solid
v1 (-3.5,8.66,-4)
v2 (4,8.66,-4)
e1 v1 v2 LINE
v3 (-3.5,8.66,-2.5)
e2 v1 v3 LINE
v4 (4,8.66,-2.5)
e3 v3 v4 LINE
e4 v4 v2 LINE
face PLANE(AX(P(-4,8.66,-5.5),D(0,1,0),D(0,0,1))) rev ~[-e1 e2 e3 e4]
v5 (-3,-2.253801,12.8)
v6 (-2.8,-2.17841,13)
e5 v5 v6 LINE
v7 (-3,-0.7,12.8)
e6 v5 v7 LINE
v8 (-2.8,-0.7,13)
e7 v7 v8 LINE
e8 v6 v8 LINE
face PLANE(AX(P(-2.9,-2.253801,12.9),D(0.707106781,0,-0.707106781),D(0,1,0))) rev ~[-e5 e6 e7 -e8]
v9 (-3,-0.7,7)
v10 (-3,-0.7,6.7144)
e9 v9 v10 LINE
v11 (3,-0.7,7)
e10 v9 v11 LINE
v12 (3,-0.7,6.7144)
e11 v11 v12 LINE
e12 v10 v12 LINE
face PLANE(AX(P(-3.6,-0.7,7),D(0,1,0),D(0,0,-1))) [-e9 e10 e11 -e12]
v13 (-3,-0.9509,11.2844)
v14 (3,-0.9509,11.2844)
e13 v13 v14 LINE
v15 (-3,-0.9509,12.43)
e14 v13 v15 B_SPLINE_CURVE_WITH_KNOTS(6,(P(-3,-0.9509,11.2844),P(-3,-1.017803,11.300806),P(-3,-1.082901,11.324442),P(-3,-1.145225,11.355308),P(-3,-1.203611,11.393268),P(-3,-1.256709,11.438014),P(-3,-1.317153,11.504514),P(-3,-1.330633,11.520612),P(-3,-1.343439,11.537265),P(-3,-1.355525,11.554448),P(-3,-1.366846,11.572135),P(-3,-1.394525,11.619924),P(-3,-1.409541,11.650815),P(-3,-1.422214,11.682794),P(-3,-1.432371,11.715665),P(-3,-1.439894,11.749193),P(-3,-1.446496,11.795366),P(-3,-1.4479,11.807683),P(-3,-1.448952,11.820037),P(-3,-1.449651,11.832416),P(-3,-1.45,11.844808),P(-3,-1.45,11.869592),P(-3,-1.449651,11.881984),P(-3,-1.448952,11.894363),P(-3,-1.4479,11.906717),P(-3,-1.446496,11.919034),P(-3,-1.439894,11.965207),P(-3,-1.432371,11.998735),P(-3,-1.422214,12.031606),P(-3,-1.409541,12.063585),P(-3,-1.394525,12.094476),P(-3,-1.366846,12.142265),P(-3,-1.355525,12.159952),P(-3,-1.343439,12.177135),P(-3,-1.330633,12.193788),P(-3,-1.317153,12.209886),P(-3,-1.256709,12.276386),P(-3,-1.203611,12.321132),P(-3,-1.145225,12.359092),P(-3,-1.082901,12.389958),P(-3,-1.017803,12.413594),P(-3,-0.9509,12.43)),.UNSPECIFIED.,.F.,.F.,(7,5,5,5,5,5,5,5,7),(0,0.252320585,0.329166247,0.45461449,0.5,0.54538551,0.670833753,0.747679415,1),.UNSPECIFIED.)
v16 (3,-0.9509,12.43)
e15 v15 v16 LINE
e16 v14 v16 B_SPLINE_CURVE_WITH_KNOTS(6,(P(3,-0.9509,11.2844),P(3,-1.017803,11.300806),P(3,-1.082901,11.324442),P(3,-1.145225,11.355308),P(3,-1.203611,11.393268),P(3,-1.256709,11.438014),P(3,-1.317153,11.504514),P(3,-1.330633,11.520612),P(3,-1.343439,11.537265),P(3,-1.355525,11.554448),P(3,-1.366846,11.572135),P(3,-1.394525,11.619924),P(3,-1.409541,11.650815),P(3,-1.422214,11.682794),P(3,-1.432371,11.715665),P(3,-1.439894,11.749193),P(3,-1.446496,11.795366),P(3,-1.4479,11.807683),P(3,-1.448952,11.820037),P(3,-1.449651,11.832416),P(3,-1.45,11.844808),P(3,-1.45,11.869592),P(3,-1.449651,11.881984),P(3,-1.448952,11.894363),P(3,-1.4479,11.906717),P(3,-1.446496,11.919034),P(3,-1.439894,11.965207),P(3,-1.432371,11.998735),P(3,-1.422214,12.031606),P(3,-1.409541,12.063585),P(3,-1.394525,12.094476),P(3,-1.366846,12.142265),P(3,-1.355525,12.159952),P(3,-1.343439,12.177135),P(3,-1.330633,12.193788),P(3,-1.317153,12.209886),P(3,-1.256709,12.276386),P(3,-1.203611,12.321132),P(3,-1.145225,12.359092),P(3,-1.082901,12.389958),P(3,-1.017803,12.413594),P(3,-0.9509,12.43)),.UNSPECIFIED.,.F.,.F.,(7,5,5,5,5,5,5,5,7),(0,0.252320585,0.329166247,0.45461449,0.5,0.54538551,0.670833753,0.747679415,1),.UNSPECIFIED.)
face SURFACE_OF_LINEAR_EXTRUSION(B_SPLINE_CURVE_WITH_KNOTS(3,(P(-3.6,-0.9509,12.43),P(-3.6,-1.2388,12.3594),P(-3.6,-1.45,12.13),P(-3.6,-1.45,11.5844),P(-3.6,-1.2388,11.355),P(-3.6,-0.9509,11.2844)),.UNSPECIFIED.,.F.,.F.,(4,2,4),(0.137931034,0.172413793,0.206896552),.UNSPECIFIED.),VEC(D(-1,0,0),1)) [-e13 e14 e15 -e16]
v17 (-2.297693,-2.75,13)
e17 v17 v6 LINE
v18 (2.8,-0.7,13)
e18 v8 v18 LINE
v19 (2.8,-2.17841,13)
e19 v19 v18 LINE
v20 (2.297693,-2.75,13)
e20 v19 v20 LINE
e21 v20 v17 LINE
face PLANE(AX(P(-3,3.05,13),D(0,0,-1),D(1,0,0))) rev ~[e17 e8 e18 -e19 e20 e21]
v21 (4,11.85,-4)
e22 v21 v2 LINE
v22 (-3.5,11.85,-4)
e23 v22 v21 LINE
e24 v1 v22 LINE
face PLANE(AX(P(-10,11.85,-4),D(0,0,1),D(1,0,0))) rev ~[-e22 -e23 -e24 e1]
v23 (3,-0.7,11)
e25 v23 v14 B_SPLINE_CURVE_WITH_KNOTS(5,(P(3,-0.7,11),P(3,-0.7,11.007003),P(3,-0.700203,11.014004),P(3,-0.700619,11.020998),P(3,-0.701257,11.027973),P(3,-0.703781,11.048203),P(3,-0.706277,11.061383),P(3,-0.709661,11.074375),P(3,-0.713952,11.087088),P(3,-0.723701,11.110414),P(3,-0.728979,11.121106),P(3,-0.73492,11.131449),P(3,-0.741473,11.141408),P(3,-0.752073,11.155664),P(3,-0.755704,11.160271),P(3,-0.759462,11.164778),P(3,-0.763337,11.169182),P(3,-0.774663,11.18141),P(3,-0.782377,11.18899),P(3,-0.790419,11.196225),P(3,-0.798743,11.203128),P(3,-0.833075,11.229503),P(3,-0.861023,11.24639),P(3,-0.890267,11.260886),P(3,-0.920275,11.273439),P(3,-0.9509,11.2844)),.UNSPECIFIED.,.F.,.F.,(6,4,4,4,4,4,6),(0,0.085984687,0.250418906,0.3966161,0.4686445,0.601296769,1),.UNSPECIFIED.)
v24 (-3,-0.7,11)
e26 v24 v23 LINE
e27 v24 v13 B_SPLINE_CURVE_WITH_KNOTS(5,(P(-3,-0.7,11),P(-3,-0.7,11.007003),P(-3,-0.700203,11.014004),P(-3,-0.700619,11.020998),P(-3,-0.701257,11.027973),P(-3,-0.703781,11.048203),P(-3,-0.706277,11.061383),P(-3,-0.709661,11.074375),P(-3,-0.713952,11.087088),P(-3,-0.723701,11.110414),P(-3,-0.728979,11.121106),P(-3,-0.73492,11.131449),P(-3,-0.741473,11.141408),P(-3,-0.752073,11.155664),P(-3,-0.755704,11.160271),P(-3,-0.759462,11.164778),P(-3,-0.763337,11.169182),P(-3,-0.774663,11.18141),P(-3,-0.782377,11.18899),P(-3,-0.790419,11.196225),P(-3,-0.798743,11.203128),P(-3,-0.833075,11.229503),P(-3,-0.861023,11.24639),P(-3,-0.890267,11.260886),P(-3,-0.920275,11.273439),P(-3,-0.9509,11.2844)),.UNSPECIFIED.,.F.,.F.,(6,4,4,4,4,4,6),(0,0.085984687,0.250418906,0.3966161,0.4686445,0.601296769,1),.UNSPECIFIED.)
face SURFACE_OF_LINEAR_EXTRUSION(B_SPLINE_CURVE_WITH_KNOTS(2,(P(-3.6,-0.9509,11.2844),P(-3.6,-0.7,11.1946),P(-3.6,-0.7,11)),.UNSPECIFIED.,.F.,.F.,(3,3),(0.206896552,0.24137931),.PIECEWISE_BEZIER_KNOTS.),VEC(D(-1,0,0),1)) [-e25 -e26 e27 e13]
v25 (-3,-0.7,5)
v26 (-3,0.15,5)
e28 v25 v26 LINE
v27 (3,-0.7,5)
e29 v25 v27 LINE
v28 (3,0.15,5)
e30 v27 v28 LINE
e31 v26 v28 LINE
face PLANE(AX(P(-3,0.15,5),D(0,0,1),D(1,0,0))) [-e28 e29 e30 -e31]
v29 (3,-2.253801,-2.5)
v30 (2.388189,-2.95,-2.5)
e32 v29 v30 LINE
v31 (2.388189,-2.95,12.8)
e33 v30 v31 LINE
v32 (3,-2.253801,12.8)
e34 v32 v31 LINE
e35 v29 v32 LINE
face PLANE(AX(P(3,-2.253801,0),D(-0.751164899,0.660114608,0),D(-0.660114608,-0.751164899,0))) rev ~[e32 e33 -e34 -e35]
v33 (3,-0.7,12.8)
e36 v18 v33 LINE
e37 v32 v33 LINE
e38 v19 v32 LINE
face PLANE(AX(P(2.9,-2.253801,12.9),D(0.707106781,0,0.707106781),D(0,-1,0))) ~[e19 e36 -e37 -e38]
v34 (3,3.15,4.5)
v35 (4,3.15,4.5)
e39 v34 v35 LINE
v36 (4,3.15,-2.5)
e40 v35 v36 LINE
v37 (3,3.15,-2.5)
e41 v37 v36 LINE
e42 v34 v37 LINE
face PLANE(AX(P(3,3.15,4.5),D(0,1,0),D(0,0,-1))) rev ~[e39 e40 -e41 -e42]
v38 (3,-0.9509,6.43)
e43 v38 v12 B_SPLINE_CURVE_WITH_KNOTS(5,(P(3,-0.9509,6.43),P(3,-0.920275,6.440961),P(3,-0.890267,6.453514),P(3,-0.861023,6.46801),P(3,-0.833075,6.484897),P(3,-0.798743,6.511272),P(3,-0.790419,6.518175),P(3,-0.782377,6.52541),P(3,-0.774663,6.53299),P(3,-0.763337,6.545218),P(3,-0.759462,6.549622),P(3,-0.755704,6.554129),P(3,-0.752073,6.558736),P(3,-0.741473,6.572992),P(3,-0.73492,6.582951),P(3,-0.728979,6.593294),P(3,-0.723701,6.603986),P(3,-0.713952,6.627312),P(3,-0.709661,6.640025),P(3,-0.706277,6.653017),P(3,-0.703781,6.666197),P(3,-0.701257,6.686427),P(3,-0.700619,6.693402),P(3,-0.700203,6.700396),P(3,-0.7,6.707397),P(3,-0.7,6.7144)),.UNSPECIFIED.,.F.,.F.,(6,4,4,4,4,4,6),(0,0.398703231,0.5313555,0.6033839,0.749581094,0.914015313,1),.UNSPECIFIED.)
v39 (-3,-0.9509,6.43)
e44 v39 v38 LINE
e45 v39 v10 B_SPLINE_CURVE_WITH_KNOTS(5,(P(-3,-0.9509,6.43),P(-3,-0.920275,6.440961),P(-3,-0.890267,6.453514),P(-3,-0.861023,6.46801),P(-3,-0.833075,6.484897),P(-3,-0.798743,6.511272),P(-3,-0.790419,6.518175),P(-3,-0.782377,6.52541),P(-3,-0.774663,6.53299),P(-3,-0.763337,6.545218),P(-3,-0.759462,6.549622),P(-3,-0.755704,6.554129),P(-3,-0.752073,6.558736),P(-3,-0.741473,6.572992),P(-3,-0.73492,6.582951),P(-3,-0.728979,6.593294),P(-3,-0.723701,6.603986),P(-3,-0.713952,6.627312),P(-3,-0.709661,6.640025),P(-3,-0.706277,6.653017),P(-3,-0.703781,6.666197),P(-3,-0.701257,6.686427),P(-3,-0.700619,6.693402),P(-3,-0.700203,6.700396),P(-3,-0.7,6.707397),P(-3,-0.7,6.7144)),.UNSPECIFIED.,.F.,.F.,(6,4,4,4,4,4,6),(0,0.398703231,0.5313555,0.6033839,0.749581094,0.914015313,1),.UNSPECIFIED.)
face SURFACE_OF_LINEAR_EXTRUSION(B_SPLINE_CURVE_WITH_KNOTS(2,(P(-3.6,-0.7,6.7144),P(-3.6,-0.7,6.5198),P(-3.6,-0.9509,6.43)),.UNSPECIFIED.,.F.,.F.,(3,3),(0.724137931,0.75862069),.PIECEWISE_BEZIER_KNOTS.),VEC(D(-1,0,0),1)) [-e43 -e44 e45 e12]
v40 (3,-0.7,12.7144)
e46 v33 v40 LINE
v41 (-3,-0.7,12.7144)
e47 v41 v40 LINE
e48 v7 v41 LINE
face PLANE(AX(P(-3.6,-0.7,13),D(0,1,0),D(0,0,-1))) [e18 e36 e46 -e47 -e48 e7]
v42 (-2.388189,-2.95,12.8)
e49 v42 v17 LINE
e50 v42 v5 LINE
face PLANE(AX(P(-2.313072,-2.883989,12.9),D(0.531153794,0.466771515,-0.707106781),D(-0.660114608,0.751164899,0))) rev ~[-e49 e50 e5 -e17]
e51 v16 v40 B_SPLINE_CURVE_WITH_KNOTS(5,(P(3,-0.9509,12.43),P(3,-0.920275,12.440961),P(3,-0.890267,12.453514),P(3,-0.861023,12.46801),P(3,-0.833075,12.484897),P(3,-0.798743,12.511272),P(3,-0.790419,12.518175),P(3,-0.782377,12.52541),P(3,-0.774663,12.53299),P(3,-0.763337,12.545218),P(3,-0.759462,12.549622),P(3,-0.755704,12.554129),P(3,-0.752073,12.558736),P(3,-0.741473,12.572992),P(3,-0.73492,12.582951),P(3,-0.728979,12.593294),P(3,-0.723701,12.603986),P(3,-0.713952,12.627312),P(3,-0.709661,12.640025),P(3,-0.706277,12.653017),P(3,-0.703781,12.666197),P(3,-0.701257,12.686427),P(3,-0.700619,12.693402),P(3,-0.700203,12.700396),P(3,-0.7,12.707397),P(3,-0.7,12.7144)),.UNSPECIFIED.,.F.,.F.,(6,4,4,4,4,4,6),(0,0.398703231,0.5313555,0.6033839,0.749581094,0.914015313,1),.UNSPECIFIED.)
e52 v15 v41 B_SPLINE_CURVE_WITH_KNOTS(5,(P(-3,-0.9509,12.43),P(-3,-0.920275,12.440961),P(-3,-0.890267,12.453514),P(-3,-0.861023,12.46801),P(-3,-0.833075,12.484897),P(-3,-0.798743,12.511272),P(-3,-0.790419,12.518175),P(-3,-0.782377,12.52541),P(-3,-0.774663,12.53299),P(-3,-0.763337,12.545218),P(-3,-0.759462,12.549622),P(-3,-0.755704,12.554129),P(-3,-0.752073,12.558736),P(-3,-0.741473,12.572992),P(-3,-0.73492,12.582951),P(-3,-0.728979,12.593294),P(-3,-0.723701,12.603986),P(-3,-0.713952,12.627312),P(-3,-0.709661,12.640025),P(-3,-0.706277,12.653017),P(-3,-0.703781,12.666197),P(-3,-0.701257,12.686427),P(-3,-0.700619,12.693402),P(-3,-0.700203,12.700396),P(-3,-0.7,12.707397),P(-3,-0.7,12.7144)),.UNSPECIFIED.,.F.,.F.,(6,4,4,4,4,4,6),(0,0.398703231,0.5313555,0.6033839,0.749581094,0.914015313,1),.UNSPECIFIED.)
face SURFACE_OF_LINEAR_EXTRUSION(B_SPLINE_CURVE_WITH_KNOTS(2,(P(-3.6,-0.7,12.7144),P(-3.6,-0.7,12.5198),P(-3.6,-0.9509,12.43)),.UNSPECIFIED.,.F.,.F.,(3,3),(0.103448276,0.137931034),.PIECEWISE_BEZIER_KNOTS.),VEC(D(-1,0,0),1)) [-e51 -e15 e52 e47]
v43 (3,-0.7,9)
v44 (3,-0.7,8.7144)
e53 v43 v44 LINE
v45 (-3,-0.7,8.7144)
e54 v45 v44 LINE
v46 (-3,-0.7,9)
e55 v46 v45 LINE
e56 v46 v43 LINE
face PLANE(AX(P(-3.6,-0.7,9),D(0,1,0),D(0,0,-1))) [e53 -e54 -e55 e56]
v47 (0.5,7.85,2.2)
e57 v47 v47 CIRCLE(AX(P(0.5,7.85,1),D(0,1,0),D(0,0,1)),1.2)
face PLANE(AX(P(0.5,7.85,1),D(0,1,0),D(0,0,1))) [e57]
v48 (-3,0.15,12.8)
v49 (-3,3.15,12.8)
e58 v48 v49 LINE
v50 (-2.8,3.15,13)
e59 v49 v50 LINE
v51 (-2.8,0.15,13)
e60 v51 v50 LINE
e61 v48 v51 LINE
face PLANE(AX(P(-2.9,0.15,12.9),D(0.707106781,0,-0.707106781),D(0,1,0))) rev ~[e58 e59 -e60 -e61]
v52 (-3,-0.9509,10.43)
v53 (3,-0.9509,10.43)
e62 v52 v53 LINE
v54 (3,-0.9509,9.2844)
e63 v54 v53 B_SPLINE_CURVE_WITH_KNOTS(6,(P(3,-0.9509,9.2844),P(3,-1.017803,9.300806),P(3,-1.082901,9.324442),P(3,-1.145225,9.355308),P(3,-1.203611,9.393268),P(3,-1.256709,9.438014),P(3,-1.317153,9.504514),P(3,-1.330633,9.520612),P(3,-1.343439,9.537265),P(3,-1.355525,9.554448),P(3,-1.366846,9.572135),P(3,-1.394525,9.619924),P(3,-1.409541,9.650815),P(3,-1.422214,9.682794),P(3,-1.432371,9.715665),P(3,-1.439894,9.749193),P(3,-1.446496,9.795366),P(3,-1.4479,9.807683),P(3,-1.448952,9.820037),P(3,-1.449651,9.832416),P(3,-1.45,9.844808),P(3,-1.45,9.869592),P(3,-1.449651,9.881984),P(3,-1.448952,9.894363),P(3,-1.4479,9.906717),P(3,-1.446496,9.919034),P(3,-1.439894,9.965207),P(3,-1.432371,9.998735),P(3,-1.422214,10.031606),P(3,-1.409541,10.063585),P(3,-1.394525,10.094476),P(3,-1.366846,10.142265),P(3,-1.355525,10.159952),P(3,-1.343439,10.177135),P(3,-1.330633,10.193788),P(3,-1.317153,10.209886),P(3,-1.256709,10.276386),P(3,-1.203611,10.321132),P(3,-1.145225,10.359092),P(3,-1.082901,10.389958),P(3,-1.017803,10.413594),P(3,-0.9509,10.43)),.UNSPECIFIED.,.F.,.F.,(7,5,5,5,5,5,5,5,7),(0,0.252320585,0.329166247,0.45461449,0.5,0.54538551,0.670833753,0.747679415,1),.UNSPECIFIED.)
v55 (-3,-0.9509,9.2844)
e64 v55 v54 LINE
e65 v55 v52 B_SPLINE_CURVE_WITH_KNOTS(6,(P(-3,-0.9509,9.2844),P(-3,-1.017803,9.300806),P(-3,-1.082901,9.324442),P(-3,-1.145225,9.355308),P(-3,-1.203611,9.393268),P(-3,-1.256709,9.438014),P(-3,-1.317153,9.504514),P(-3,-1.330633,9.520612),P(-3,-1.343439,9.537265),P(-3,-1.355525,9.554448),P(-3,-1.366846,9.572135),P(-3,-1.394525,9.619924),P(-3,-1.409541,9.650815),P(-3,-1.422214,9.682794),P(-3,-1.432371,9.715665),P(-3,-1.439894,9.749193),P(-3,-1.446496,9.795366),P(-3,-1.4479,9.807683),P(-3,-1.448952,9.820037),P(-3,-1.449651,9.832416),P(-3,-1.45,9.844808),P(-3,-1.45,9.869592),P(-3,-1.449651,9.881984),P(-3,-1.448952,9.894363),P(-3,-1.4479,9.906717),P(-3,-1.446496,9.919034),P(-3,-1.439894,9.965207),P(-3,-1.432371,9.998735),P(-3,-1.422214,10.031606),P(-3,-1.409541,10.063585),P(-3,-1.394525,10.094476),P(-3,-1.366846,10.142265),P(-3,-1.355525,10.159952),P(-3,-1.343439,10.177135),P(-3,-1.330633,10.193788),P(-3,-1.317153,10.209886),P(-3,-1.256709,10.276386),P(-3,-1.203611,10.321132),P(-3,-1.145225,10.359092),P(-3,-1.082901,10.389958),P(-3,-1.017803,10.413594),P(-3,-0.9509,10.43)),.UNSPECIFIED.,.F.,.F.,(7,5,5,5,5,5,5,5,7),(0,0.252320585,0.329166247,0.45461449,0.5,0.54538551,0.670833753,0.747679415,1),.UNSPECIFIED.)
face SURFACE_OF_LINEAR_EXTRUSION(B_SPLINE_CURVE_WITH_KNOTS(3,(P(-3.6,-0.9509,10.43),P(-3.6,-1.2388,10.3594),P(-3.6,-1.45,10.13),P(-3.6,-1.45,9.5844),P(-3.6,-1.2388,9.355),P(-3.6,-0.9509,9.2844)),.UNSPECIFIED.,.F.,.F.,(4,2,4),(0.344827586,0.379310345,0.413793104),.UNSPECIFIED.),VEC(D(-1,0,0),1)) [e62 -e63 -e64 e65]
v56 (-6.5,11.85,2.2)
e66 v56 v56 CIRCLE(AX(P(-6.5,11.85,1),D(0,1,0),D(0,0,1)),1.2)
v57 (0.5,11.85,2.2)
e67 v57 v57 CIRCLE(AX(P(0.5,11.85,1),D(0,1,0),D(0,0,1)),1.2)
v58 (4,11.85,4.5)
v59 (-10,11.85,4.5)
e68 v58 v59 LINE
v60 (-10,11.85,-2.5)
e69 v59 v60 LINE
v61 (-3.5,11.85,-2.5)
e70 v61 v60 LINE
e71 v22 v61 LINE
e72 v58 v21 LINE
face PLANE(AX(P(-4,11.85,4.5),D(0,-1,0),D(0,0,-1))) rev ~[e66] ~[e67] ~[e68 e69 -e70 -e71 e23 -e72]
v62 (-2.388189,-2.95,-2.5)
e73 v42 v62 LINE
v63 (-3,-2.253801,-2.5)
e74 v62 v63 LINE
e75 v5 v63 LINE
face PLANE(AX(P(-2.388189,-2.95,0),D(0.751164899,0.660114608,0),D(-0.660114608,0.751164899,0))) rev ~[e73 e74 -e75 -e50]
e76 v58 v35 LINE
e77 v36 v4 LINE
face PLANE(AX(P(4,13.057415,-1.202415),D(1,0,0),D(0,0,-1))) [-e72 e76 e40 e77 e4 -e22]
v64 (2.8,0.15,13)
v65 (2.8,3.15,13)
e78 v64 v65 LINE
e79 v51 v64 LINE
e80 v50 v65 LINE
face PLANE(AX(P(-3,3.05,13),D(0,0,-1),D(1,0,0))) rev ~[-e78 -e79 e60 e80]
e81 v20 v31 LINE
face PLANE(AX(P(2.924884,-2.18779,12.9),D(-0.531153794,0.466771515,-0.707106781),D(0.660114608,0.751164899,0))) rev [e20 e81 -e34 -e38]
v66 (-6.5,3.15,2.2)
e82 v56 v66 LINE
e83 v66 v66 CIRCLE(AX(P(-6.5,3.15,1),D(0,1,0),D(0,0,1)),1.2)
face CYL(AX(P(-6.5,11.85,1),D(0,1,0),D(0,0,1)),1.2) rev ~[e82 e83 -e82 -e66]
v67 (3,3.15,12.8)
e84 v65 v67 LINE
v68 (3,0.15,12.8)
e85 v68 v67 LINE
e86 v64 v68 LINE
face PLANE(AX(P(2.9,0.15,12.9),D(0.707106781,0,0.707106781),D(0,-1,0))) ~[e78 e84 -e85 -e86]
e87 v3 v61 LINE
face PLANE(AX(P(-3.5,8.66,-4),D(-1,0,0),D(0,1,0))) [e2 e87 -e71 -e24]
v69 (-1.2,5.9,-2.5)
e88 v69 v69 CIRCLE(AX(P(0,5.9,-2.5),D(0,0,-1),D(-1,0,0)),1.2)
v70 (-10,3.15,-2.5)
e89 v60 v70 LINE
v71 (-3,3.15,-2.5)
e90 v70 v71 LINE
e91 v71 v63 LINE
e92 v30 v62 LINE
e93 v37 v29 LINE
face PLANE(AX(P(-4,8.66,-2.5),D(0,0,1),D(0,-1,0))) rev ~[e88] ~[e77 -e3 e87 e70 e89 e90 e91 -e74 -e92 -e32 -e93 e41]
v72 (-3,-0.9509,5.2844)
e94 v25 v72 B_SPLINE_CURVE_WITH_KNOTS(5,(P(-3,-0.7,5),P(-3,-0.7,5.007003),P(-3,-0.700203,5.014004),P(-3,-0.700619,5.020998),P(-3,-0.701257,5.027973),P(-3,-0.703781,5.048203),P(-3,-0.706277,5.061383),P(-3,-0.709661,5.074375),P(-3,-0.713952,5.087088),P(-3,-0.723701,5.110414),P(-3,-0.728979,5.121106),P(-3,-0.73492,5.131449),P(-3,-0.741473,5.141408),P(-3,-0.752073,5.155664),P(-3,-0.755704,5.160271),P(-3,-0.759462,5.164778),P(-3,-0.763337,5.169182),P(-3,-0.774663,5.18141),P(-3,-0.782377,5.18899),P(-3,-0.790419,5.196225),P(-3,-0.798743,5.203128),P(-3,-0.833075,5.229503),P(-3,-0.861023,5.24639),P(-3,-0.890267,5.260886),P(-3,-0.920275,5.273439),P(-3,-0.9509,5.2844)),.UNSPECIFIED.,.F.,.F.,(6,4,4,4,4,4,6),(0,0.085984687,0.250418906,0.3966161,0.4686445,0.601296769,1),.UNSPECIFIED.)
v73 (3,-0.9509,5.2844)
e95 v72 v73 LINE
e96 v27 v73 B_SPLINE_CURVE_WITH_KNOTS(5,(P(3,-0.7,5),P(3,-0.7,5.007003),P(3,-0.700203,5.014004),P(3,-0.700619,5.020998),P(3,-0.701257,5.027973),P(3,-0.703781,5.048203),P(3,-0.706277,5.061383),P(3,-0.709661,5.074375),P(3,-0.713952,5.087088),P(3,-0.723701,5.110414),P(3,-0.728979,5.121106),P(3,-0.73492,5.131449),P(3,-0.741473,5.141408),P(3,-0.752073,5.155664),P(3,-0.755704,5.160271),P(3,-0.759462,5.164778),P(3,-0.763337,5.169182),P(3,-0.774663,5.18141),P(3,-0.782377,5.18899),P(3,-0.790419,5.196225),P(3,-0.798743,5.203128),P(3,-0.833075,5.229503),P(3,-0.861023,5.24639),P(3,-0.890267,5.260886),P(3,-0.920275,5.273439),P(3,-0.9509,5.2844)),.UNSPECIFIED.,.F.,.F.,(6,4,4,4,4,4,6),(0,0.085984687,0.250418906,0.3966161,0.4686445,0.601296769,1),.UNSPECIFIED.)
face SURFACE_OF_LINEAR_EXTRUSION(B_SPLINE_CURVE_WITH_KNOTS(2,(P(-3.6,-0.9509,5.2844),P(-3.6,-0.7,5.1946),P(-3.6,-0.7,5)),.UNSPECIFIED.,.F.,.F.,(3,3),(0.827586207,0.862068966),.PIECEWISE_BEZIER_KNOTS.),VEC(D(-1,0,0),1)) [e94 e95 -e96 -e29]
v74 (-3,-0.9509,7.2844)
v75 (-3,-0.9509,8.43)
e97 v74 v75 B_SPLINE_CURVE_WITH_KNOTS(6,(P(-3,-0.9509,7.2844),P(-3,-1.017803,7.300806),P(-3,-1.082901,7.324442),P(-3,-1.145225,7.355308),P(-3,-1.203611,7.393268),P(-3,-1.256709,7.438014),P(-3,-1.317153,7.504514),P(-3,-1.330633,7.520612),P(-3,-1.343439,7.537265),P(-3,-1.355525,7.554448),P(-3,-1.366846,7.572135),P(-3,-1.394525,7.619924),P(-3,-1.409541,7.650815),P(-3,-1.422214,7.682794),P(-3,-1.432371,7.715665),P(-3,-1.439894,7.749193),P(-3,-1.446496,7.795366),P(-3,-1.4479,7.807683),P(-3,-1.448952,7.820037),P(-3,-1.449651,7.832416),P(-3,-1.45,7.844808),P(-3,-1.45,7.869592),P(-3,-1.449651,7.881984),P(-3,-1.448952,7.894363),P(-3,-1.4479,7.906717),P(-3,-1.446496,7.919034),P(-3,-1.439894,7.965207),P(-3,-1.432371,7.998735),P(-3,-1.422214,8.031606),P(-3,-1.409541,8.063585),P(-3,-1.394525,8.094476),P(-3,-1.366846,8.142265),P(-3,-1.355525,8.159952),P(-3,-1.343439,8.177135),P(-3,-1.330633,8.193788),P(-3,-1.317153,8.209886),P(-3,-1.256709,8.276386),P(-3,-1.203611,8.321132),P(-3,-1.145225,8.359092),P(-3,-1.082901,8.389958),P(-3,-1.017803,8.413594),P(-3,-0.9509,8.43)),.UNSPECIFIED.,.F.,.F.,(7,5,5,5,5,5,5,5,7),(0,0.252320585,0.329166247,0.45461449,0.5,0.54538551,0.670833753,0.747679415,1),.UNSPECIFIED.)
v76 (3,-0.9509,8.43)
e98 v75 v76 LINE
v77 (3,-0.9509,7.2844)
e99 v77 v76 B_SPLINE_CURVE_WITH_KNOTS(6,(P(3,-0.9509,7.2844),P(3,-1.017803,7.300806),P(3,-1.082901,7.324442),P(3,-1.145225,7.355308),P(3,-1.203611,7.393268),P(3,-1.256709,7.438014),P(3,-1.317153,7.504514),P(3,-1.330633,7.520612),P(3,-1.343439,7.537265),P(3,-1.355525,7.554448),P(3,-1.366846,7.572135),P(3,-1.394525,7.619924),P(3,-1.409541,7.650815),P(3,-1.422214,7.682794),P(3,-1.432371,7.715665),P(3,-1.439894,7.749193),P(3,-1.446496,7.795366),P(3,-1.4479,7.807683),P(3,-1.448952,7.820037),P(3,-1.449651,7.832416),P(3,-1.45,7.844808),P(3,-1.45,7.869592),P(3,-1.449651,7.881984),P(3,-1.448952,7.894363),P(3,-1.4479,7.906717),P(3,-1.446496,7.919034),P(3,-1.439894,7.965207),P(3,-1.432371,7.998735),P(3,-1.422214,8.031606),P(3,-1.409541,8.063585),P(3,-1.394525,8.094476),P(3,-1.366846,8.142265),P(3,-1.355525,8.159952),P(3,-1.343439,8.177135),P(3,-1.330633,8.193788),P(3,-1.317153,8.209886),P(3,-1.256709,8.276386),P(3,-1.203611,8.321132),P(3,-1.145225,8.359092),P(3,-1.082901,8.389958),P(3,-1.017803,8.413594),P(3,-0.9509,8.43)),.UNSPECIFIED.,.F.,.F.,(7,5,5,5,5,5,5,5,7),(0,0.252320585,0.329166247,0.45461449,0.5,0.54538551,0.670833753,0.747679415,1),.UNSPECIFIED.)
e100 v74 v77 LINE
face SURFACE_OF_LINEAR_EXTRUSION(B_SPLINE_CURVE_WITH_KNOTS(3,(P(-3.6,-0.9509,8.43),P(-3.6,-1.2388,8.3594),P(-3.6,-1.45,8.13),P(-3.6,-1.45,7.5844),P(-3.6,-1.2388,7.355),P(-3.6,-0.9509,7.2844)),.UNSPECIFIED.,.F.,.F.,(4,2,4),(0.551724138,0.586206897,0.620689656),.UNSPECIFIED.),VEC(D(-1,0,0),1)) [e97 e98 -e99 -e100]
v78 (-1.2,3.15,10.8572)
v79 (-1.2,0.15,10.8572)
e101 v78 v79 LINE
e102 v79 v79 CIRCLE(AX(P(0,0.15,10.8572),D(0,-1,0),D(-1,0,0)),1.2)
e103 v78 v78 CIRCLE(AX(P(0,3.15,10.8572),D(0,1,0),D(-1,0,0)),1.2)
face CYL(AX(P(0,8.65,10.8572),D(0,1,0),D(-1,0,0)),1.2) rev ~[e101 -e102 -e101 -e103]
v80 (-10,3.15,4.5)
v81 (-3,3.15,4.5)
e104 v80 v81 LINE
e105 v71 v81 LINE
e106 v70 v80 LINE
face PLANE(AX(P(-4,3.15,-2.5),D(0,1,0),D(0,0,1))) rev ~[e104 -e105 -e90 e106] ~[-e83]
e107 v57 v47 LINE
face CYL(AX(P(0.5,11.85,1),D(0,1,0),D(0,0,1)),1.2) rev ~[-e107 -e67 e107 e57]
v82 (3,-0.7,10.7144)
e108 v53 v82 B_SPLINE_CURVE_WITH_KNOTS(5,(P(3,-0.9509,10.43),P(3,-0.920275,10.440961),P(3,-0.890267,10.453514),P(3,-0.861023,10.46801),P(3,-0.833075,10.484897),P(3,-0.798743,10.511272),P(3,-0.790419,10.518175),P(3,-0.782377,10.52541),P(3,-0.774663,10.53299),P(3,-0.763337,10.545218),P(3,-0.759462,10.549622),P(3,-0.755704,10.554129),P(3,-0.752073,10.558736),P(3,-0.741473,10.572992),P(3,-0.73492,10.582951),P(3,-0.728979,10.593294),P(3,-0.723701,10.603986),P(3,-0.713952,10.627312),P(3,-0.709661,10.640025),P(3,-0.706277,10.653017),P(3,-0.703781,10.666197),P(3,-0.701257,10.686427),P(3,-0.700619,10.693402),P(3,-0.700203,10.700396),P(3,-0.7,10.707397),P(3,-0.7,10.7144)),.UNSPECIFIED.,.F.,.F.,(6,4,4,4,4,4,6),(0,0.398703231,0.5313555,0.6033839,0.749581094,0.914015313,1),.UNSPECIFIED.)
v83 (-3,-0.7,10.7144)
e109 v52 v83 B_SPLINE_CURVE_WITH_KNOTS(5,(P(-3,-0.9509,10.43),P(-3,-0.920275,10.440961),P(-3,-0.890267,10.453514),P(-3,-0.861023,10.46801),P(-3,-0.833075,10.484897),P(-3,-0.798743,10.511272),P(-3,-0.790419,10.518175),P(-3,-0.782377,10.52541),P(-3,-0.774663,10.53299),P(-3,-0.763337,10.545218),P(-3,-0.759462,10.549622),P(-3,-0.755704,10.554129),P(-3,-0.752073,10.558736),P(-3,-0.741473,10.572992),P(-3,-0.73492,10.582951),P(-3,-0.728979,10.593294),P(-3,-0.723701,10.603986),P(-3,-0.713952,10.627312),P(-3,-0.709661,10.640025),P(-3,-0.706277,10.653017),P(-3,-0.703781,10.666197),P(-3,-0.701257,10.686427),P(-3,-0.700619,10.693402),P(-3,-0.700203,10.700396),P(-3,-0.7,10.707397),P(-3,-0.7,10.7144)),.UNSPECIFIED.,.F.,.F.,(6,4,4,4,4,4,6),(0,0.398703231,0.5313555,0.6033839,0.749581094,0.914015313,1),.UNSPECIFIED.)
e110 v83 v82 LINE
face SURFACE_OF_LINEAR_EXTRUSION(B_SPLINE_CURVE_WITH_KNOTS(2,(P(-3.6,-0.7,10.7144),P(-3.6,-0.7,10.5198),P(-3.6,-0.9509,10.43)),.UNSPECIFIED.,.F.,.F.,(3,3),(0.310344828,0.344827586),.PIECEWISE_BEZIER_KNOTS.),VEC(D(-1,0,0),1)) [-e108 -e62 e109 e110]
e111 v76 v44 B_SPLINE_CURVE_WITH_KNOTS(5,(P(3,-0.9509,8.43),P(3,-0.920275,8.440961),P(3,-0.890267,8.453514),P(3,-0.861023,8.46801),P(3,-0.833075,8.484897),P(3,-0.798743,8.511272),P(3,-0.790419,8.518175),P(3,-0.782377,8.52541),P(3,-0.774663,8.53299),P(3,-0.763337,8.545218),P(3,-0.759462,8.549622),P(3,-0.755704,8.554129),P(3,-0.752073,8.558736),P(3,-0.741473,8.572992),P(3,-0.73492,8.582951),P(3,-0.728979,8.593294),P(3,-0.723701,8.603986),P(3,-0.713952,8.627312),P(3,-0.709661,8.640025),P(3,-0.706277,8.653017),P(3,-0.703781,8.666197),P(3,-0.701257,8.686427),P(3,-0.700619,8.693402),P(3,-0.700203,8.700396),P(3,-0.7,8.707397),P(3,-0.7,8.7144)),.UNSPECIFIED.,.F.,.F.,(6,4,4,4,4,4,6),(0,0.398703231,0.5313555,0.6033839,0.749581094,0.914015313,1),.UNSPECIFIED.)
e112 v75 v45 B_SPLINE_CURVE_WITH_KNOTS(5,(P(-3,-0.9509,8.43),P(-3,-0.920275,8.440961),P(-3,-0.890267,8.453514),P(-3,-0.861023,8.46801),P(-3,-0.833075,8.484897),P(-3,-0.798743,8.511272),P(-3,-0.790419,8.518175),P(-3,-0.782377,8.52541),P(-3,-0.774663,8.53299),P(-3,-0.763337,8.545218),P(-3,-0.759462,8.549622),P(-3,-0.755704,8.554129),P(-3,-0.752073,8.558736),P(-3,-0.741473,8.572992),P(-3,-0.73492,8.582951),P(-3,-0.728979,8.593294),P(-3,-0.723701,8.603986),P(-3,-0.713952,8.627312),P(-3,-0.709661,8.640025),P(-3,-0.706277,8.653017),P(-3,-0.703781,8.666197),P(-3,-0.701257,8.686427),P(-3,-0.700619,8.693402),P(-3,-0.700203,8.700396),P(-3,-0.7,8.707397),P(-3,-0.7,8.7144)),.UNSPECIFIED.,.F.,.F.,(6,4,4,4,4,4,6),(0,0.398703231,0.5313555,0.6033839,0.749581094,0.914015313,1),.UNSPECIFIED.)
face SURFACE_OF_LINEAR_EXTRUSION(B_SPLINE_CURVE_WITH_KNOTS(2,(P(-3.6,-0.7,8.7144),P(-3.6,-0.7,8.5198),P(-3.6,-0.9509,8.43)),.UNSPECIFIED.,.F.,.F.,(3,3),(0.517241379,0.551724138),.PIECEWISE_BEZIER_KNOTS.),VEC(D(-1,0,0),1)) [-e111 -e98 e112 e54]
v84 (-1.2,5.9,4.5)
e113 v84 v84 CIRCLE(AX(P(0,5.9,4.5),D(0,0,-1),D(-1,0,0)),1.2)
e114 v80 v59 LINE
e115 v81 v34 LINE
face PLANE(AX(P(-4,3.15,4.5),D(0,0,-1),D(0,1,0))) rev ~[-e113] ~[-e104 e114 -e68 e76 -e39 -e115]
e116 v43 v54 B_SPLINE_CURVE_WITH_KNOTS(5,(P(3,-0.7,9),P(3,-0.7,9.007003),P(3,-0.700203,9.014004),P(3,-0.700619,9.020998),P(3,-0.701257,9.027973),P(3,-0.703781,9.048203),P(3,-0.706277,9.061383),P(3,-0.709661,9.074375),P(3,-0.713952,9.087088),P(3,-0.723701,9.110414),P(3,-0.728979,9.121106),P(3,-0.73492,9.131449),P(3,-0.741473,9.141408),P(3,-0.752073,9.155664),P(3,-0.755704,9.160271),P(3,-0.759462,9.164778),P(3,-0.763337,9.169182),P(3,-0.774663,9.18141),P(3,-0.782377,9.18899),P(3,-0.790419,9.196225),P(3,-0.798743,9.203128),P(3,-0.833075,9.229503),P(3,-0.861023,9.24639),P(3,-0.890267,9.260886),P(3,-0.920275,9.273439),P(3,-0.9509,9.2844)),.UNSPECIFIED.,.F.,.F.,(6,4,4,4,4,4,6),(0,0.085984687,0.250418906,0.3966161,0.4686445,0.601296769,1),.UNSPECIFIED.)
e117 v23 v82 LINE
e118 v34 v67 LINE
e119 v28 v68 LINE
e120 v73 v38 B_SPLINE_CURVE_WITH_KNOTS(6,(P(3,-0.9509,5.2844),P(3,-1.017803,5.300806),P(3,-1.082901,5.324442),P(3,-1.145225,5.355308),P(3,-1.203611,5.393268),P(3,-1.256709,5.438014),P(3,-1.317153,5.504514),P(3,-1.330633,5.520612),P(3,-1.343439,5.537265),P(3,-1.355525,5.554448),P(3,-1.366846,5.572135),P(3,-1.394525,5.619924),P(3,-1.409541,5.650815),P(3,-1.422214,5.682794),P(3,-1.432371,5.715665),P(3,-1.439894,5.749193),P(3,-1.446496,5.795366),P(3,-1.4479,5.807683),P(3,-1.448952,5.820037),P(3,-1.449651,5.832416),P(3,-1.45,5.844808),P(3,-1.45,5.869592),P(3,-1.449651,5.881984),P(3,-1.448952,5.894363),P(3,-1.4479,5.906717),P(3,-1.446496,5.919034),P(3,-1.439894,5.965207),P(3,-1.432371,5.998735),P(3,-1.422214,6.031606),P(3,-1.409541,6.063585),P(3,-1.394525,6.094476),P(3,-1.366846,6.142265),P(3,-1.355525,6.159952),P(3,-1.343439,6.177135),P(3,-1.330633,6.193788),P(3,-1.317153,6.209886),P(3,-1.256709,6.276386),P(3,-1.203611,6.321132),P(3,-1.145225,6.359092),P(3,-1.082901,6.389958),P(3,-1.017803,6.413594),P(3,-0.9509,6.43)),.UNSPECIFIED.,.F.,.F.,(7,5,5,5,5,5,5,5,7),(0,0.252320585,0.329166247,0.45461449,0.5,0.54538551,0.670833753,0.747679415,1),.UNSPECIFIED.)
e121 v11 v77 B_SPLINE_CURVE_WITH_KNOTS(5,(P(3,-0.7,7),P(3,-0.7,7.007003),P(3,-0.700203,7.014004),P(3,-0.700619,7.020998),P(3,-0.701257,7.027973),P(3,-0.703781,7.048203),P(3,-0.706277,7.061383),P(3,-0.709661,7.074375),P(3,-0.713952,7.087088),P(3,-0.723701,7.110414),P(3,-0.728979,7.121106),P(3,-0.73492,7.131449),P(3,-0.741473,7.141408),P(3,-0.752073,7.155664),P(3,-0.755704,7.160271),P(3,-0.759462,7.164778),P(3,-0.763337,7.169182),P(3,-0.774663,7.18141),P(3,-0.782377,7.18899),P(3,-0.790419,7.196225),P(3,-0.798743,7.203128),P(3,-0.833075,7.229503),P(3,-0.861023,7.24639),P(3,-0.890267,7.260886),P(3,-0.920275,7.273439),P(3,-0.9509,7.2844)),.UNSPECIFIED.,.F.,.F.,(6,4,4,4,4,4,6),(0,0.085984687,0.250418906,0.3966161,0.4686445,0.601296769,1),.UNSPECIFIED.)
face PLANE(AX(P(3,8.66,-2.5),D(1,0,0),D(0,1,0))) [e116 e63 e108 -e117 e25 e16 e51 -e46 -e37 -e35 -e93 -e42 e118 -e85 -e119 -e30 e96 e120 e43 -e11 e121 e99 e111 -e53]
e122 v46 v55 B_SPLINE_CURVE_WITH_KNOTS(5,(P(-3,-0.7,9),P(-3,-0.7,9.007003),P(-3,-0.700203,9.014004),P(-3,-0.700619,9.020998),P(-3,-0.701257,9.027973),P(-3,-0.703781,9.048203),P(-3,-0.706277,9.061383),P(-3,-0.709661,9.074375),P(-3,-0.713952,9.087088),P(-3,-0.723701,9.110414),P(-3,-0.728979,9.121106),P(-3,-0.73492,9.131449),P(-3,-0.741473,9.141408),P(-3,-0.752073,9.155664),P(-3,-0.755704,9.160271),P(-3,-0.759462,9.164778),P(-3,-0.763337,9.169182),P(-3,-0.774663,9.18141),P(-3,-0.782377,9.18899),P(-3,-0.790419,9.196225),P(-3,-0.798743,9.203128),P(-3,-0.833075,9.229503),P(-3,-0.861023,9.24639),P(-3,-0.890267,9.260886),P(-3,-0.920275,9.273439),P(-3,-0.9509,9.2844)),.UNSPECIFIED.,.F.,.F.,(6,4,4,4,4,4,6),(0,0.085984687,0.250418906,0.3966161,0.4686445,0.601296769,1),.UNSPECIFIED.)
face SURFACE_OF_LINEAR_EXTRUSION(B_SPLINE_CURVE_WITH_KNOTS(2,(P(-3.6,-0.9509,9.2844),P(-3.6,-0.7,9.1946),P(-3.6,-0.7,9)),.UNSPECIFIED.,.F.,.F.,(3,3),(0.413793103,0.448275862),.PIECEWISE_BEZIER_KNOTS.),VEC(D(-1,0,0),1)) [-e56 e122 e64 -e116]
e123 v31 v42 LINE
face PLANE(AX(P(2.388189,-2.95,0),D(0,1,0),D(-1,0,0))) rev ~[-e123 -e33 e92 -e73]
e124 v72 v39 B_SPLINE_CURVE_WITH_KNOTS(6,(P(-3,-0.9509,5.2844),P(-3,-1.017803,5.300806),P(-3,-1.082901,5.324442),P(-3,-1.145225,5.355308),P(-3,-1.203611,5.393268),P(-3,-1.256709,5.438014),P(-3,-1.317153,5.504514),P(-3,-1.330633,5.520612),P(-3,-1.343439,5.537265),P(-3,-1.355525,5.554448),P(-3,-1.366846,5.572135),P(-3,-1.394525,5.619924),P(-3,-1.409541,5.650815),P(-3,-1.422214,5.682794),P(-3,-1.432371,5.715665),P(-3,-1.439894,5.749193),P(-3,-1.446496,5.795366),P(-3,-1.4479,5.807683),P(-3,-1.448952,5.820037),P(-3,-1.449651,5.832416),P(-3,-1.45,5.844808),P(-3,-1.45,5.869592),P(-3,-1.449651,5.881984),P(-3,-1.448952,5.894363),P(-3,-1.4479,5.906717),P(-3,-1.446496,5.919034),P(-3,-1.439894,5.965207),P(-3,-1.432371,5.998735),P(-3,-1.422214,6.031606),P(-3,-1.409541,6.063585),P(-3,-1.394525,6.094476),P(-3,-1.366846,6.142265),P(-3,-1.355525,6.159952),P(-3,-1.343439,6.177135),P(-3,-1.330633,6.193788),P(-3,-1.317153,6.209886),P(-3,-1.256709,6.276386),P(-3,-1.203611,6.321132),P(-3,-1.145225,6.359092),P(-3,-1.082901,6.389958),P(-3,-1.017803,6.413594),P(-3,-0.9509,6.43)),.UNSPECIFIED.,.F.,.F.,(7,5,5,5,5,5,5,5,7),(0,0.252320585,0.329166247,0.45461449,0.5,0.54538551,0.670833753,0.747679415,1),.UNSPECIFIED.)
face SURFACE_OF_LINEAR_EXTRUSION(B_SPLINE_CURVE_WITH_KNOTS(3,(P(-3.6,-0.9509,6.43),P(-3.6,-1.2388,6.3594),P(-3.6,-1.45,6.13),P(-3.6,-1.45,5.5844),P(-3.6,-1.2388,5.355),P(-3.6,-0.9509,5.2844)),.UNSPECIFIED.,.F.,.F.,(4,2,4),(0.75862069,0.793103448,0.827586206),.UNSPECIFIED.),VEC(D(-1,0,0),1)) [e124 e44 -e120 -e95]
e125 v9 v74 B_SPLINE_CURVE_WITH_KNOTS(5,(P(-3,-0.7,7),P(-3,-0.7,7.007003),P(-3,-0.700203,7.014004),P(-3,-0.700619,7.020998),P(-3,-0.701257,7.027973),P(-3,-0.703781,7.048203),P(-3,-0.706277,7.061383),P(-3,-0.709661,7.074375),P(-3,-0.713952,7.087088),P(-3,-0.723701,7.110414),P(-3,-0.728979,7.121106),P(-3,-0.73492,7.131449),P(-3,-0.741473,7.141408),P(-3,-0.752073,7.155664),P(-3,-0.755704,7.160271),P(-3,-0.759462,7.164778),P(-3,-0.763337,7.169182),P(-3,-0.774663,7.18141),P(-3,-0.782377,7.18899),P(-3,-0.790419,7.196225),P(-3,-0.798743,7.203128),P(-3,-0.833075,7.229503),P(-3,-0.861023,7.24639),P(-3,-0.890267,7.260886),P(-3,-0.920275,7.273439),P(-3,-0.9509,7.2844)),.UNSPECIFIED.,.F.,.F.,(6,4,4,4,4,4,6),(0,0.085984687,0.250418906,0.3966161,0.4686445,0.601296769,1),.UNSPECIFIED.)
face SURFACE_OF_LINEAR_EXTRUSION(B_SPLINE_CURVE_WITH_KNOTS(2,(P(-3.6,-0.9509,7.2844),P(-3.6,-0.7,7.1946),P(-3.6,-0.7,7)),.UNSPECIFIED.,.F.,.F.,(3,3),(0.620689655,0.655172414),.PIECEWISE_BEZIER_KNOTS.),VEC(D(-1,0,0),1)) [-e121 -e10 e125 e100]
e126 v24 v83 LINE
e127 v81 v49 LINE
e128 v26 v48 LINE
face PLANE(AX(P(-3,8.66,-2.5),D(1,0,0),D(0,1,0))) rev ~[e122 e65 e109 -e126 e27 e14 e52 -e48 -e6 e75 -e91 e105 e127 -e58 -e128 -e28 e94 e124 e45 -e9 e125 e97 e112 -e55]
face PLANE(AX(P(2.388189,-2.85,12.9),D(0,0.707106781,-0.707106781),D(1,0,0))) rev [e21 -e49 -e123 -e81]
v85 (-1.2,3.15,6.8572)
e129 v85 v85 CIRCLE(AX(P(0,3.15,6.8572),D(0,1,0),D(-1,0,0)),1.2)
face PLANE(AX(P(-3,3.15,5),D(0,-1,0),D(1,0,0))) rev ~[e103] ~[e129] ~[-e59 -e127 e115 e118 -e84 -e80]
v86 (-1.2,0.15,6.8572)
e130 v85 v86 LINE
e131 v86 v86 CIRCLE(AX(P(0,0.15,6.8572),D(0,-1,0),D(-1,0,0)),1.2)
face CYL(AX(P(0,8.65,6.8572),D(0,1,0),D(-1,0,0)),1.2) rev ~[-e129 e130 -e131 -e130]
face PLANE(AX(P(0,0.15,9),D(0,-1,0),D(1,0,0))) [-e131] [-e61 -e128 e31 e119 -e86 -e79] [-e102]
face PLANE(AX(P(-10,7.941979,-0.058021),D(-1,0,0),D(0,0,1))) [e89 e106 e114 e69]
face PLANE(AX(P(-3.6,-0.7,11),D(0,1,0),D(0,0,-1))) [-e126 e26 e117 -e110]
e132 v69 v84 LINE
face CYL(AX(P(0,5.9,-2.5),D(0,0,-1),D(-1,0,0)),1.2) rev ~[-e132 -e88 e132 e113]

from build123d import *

# Parameters (mm, degrees)
BOSS_EXTRUDE1_DEPTH     = 13
SKETCH6_W               = 6
SKETCH6_H               = 5
BOSS_EXTRUDE4_DEPTH     = 5.6
SKETCH16_W              = 6
SKETCH16_H              = 8
BOSS_EXTRUDE5_DEPTH     = 0.1
CUT_EXTRUDE6_DEPTH      = 4
CUT_EXTRUDE6_DEPTH_BACK = 3.6
SKETCH15_R              = 1.2
CUT_EXTRUDE7_DEPTH      = 8.7202
CUT_EXTRUDE8_START      = -0.2202
SKETCH19_W              = 6
SKETCH19_H              = 8
SKETCH19_R              = 1.2
CUT_EXTRUDE8_DEPTH      = 0.2202
SKETCH12_R              = 1.2
CUT_EXTRUDE5_DEPTH      = 6
CHAMFER1_SIZE           = 0.2
SKETCH21_R              = 1.2
BOSS_EXTRUDE6_DEPTH     = 2.5
SKETCH24_W              = 6
SKETCH24_H              = 5.5
CUT_EXTRUDE10_DEPTH     = 8.5
SKETCH25_W              = 6
SKETCH25_H              = 7
BOSS_EXTRUDE8_DEPTH     = 12.9
SKETCH26_W              = 6
SKETCH26_H              = 7.39
BOSS_EXTRUDE9_DEPTH     = 3
SKETCH30_R              = 1.2
CUT_EXTRUDE13_DEPTH     = 8
SKETCH31_W              = 7
SKETCH31_H              = 9
BOSS_EXTRUDE11_DEPTH    = 1
SKETCH32_W              = 7
SKETCH32_H              = 9
BOSS_EXTRUDE12_DEPTH    = 1
BOSS_EXTRUDE13_DEPTH    = 1
BOSS_EXTRUDE14_DEPTH    = 1
SKETCH35_W              = 10
SKETCH35_H              = 4.2
CUT_EXTRUDE14_DEPTH     = 10
BOSS_EXTRUDE15_DEPTH    = 6
SKETCH38_R              = 1.2
CUT_EXTRUDE15_DEPTH     = 4
SKETCH39_R              = 1.2
CUT_EXTRUDE16_DEPTH     = 10
SKETCH40_W              = 14
SKETCH40_H              = 1.5
CUT_EXTRUDE17_DEPTH     = 10
SKETCH41_W              = 6.5
SKETCH41_H              = 3.19
CUT_EXTRUDE18_DEPTH     = 1.5


with BuildPart() as part:
    # Sketch1 → Boss-Extrude1 (new body)
    with BuildSketch(Plane.XY):
        Polygon((3, 3.05), (3, -2.253801214), (2.388188946, -2.95), (-2.388188946, -2.95), (-3, -2.253801214), (-3, 3.05), align=None)
    extrude(amount=BOSS_EXTRUDE1_DEPTH)

    # Sketch6 → Boss-Extrude4 (add)
    with BuildSketch(Plane(origin=(0, 3.05, 0), x_dir=(1, 0, 0), z_dir=(0, 1, 0))):
        with Locations((0, -2.5)):
            Rectangle(SKETCH6_W, SKETCH6_H)
    extrude(amount=BOSS_EXTRUDE4_DEPTH)

    # Sketch16 → Boss-Extrude5 (add)
    with BuildSketch(Plane(origin=(0, 3.05, 0), x_dir=(1, 0, 0), z_dir=(0, 1, 0))):
        with Locations((0, -9)):
            Rectangle(SKETCH16_W, SKETCH16_H)
    extrude(amount=BOSS_EXTRUDE5_DEPTH)

    # Sketch18 → Cut-Extrude6 (cut, two sides: drawn at the far end of the back side and taken through both)
    with BuildSketch(Plane(origin=(0, 0, 0), x_dir=(0, 0, -1), z_dir=(1, 0, 0)).offset(-CUT_EXTRUDE6_DEPTH_BACK)):
        with BuildLine():
            Line((-8.8572, -0.0702), (-12.8572, -0.0702))
            Line((-12.8572, -0.0702), (-13, -0.0702))
            Line((-13, -0.0702), (-13, -0.7))
            Line((-13, -0.7), (-12.8572, -0.7))
            Line((-12.8572, -0.7), (-12.7144, -0.7))
            add(Edge.make_bspline(
                [(-12.7144, -0.7), (-12.5198, -0.7), (-12.43, -0.9509)],
                knots=[0.103448276, 0.103448276, 0.103448276, 0.137931034, 0.137931034, 0.137931034], degree=2))
            add(Edge.make_bspline(
                [(-12.43, -0.9509), (-12.3594, -1.2388), (-12.13, -1.45), (-11.8572, -1.45)],
                knots=[0.137931034, 0.137931034, 0.137931034, 0.137931034, 0.172413793, 0.172413793, 0.172413793, 0.172413793], degree=3))
            add(Edge.make_bspline(
                [(-11.8572, -1.45), (-11.5844, -1.45), (-11.355, -1.2388), (-11.2844, -0.9509)],
                knots=[0.172413793, 0.172413793, 0.172413793, 0.172413793, 0.206896552, 0.206896552, 0.206896552, 0.206896552], degree=3))
            add(Edge.make_bspline(
                [(-11.2844, -0.9509), (-11.1946, -0.7), (-11, -0.7)],
                knots=[0.206896552, 0.206896552, 0.206896552, 0.24137931, 0.24137931, 0.24137931], degree=2))
            Line((-11, -0.7), (-10.8572, -0.7))
            Line((-10.8572, -0.7), (-10.7144, -0.7))
            add(Edge.make_bspline(
                [(-10.7144, -0.7), (-10.5198, -0.7), (-10.43, -0.9509)],
                knots=[0.310344828, 0.310344828, 0.310344828, 0.344827586, 0.344827586, 0.344827586], degree=2))
            add(Edge.make_bspline(
                [(-10.43, -0.9509), (-10.3594, -1.2388), (-10.13, -1.45), (-9.8572, -1.45)],
                knots=[0.344827586, 0.344827586, 0.344827586, 0.344827586, 0.379310345, 0.379310345, 0.379310345, 0.379310345], degree=3))
            add(Edge.make_bspline(
                [(-9.8572, -1.45), (-9.5844, -1.45), (-9.355, -1.2388), (-9.2844, -0.9509)],
                knots=[0.379310345, 0.379310345, 0.379310345, 0.379310345, 0.413793103, 0.413793103, 0.413793103, 0.413793103], degree=3))
            add(Edge.make_bspline(
                [(-9.2844, -0.9509), (-9.1946, -0.7), (-9, -0.7)],
                knots=[0.413793103, 0.413793103, 0.413793103, 0.448275862, 0.448275862, 0.448275862], degree=2))
            Line((-9, -0.7), (-8.8572, -0.7))
            Line((-8.8572, -0.7), (-8.7144, -0.7))
            add(Edge.make_bspline(
                [(-8.7144, -0.7), (-8.5198, -0.7), (-8.43, -0.9509)],
                knots=[0.517241379, 0.517241379, 0.517241379, 0.551724138, 0.551724138, 0.551724138], degree=2))
            add(Edge.make_bspline(
                [(-8.43, -0.9509), (-8.3594, -1.2388), (-8.13, -1.45), (-7.8572, -1.45)],
                knots=[0.551724138, 0.551724138, 0.551724138, 0.551724138, 0.586206897, 0.586206897, 0.586206897, 0.586206897], degree=3))
            add(Edge.make_bspline(
                [(-7.8572, -1.45), (-7.5844, -1.45), (-7.355, -1.2388), (-7.2844, -0.9509)],
                knots=[0.586206897, 0.586206897, 0.586206897, 0.586206897, 0.620689655, 0.620689655, 0.620689655, 0.620689655], degree=3))
            add(Edge.make_bspline(
                [(-7.2844, -0.9509), (-7.1946, -0.7), (-7, -0.7)],
                knots=[0.620689655, 0.620689655, 0.620689655, 0.655172414, 0.655172414, 0.655172414], degree=2))
            Line((-7, -0.7), (-6.8572, -0.7))
            Line((-6.8572, -0.7), (-6.7144, -0.7))
            add(Edge.make_bspline(
                [(-6.7144, -0.7), (-6.5198, -0.7), (-6.43, -0.9509)],
                knots=[0.724137931, 0.724137931, 0.724137931, 0.75862069, 0.75862069, 0.75862069], degree=2))
            add(Edge.make_bspline(
                [(-6.43, -0.9509), (-6.3594, -1.2388), (-6.13, -1.45), (-5.8572, -1.45)],
                knots=[0.75862069, 0.75862069, 0.75862069, 0.75862069, 0.793103448, 0.793103448, 0.793103448, 0.793103448], degree=3))
            add(Edge.make_bspline(
                [(-5.8572, -1.45), (-5.5844, -1.45), (-5.355, -1.2388), (-5.2844, -0.9509)],
                knots=[0.793103448, 0.793103448, 0.793103448, 0.793103448, 0.827586207, 0.827586207, 0.827586207, 0.827586207], degree=3))
            add(Edge.make_bspline(
                [(-5.2844, -0.9509), (-5.1946, -0.7), (-5, -0.7)],
                knots=[0.827586207, 0.827586207, 0.827586207, 0.862068966, 0.862068966, 0.862068966], degree=2))
            Line((-5, -0.7), (-5, -0.0702))
            Line((-5, -0.0702), (-8.8572, -0.0702))
        make_face()
    extrude(amount=CUT_EXTRUDE6_DEPTH + CUT_EXTRUDE6_DEPTH_BACK, mode=Mode.SUBTRACT)

    # Sketch15 → Cut-Extrude7 (cut)
    with BuildSketch(Plane(origin=(0, 8.65, 0), x_dir=(1, 0, 0), z_dir=(0, 1, 0))):
        with Locations(Location((0, -10.8572, 0), (0, 0, 180))):
            Circle(SKETCH15_R)
        with Locations(Location((0, -6.8572, 0), (0, 0, 180))):
            Circle(SKETCH15_R)
    extrude(amount=-CUT_EXTRUDE7_DEPTH, mode=Mode.SUBTRACT)

    # Sketch19 → Cut-Extrude8 (cut)
    with BuildSketch(Plane.XZ.offset(0.0702).offset(CUT_EXTRUDE8_START)):
        with Locations((0, 9)):
            Rectangle(SKETCH19_W, SKETCH19_H)
        with Locations(Location((0, 10.8572, 0), (0, 0, 180))):
            Circle(SKETCH19_R, mode=Mode.SUBTRACT)
        with Locations(Location((0, 6.8572, 0), (0, 0, 180))):
            Circle(SKETCH19_R, mode=Mode.SUBTRACT)
    extrude(amount=CUT_EXTRUDE8_DEPTH, mode=Mode.SUBTRACT)

    # Sketch12 → Cut-Extrude5 (cut)
    with BuildSketch(Plane.XY.offset(5)):
        with Locations((0, 5.85)):
            Circle(SKETCH12_R)
    extrude(amount=-CUT_EXTRUDE5_DEPTH, mode=Mode.SUBTRACT)

    # Chamfer1
    chamfer1_edges = [part.edges().sort_by_distance(p)[0] for p in [
        (-2.694094473, -2.601900607, 13),
        (0, -2.95, 13),
        (2.694094473, -2.601900607, 13),
        (3, 1.65, 13),
        (3, -1.476900607, 13),
        (-3, -1.476900607, 13),
        (-3, 1.65, 13),
    ]]
    chamfer(chamfer1_edges, length=CHAMFER1_SIZE)

    # Sketch21 → Boss-Extrude6 (add)
    with BuildSketch(Plane(origin=(0, 0, 0), x_dir=(-1, 0, 0), z_dir=(0, 0, -1))):
        Polygon((-2.388188946, -2.95), (2.388188946, -2.95), (3, -2.253801214), (3, 8.65), (-3, 8.65), (-3, -2.253801214), align=None)
        with Locations(Location((0, 5.85, 0), (0, 0, 180))):
            Circle(SKETCH21_R, mode=Mode.SUBTRACT)
    extrude(amount=BOSS_EXTRUDE6_DEPTH)

    # Sketch24 → Cut-Extrude10 (cut)
    with BuildSketch(Plane.XY.offset(5)):
        with Locations((0, 5.9)):
            Rectangle(SKETCH24_W, SKETCH24_H)
    extrude(amount=-CUT_EXTRUDE10_DEPTH, mode=Mode.SUBTRACT)

    # Sketch25 → Boss-Extrude8 (add)
    with BuildSketch(Plane(origin=(0, 3.15, 0), x_dir=(1, 0, 0), z_dir=(0, 1, 0))):
        with Locations((0, -1)):
            Rectangle(SKETCH25_W, SKETCH25_H)
    extrude(amount=BOSS_EXTRUDE8_DEPTH)

    # Sketch26 → Boss-Extrude9 (add)
    with BuildSketch(Plane(origin=(0, 0, -2.5), x_dir=(-1, 0, 0), z_dir=(0, 0, -1))):
        with Locations((0, 12.355)):
            Rectangle(SKETCH26_W, SKETCH26_H)
    extrude(amount=BOSS_EXTRUDE9_DEPTH)

    # Sketch30 → Cut-Extrude13 (cut)
    with BuildSketch(Plane(origin=(0, 0, -2.5), x_dir=(-1, 0, 0), z_dir=(0, 0, -1))):
        with Locations((0, 5.9)):
            Circle(SKETCH30_R)
    extrude(amount=-CUT_EXTRUDE13_DEPTH, mode=Mode.SUBTRACT)

    # Sketch31 → Boss-Extrude11 (add)
    with BuildSketch(Plane(origin=(3, 0, 0), x_dir=(0, 0, -1), z_dir=(1, 0, 0))):
        with Locations((-1, 7.65)):
            Rectangle(SKETCH31_W, SKETCH31_H)
    extrude(amount=BOSS_EXTRUDE11_DEPTH)

    # Sketch32 → Boss-Extrude12 (add)
    with BuildSketch(Plane.ZY.offset(3)):
        with Locations((1, 7.65)):
            Rectangle(SKETCH32_W, SKETCH32_H)
    extrude(amount=BOSS_EXTRUDE12_DEPTH)

    # Sketch33 → Boss-Extrude13 (add)
    with BuildSketch(Plane(origin=(3, 0, 0), x_dir=(0, 0, -1), z_dir=(1, 0, 0))):
        Polygon((2.5, 12.15), (2.5, 8.66), (5.5, 8.66), (5.5, 16.05), (-4.5, 16.05), (-4.5, 12.15), align=None)
    extrude(amount=BOSS_EXTRUDE13_DEPTH)

    # Sketch34 → Boss-Extrude14 (add)
    with BuildSketch(Plane.ZY.offset(3)):
        Polygon((-2.5, 12.15), (4.5, 12.15), (4.5, 16.05), (-5.5, 16.05), (-5.5, 8.66), (-2.5, 8.66), align=None)
    extrude(amount=BOSS_EXTRUDE14_DEPTH)

    # Sketch35 → Cut-Extrude14 (cut)
    with BuildSketch(Plane.ZY.offset(4)):
        with Locations((-0.5, 13.95)):
            Rectangle(SKETCH35_W, SKETCH35_H)
    extrude(amount=-CUT_EXTRUDE14_DEPTH, mode=Mode.SUBTRACT)

    # Sketch36 → Boss-Extrude15 (add)
    with BuildSketch(Plane.ZY.offset(4)):
        Polygon((4.5, 3.15), (4.5, 11.85), (-5.5, 11.85), (-5.5, 8.66), (-2.5, 8.66), (-2.5, 3.15), align=None)
    extrude(amount=BOSS_EXTRUDE15_DEPTH)

    # Sketch38 → Cut-Extrude15 (cut)
    with BuildSketch(Plane(origin=(0, 11.85, 0), x_dir=(1, 0, 0), z_dir=(0, 1, 0))):
        with Locations(Location((0.5, -1, 0), (0, 0, 270))):
            Circle(SKETCH38_R)
    extrude(amount=-CUT_EXTRUDE15_DEPTH, mode=Mode.SUBTRACT)

    # Sketch39 → Cut-Extrude16 (cut)
    with BuildSketch(Plane(origin=(0, 11.85, 0), x_dir=(1, 0, 0), z_dir=(0, 1, 0))):
        with Locations(Location((-6.5, -1, 0), (0, 0, 270))):
            Circle(SKETCH39_R)
    extrude(amount=-CUT_EXTRUDE16_DEPTH, mode=Mode.SUBTRACT)

    # Sketch40 → Cut-Extrude17 (cut)
    with BuildSketch(Plane(origin=(0, 11.85, 0), x_dir=(1, 0, 0), z_dir=(0, 1, 0))):
        with Locations((-3, 4.75)):
            Rectangle(SKETCH40_W, SKETCH40_H)
    extrude(amount=-CUT_EXTRUDE17_DEPTH, mode=Mode.SUBTRACT)

    # Sketch41 → Cut-Extrude18 (cut)
    with BuildSketch(Plane(origin=(0, 0, -4), x_dir=(-1, 0, 0), z_dir=(0, 0, -1))):
        with Locations((6.75, 10.255)):
            Rectangle(SKETCH41_W, SKETCH41_H)
    extrude(amount=-CUT_EXTRUDE18_DEPTH, mode=Mode.SUBTRACT)


solid = part.part
